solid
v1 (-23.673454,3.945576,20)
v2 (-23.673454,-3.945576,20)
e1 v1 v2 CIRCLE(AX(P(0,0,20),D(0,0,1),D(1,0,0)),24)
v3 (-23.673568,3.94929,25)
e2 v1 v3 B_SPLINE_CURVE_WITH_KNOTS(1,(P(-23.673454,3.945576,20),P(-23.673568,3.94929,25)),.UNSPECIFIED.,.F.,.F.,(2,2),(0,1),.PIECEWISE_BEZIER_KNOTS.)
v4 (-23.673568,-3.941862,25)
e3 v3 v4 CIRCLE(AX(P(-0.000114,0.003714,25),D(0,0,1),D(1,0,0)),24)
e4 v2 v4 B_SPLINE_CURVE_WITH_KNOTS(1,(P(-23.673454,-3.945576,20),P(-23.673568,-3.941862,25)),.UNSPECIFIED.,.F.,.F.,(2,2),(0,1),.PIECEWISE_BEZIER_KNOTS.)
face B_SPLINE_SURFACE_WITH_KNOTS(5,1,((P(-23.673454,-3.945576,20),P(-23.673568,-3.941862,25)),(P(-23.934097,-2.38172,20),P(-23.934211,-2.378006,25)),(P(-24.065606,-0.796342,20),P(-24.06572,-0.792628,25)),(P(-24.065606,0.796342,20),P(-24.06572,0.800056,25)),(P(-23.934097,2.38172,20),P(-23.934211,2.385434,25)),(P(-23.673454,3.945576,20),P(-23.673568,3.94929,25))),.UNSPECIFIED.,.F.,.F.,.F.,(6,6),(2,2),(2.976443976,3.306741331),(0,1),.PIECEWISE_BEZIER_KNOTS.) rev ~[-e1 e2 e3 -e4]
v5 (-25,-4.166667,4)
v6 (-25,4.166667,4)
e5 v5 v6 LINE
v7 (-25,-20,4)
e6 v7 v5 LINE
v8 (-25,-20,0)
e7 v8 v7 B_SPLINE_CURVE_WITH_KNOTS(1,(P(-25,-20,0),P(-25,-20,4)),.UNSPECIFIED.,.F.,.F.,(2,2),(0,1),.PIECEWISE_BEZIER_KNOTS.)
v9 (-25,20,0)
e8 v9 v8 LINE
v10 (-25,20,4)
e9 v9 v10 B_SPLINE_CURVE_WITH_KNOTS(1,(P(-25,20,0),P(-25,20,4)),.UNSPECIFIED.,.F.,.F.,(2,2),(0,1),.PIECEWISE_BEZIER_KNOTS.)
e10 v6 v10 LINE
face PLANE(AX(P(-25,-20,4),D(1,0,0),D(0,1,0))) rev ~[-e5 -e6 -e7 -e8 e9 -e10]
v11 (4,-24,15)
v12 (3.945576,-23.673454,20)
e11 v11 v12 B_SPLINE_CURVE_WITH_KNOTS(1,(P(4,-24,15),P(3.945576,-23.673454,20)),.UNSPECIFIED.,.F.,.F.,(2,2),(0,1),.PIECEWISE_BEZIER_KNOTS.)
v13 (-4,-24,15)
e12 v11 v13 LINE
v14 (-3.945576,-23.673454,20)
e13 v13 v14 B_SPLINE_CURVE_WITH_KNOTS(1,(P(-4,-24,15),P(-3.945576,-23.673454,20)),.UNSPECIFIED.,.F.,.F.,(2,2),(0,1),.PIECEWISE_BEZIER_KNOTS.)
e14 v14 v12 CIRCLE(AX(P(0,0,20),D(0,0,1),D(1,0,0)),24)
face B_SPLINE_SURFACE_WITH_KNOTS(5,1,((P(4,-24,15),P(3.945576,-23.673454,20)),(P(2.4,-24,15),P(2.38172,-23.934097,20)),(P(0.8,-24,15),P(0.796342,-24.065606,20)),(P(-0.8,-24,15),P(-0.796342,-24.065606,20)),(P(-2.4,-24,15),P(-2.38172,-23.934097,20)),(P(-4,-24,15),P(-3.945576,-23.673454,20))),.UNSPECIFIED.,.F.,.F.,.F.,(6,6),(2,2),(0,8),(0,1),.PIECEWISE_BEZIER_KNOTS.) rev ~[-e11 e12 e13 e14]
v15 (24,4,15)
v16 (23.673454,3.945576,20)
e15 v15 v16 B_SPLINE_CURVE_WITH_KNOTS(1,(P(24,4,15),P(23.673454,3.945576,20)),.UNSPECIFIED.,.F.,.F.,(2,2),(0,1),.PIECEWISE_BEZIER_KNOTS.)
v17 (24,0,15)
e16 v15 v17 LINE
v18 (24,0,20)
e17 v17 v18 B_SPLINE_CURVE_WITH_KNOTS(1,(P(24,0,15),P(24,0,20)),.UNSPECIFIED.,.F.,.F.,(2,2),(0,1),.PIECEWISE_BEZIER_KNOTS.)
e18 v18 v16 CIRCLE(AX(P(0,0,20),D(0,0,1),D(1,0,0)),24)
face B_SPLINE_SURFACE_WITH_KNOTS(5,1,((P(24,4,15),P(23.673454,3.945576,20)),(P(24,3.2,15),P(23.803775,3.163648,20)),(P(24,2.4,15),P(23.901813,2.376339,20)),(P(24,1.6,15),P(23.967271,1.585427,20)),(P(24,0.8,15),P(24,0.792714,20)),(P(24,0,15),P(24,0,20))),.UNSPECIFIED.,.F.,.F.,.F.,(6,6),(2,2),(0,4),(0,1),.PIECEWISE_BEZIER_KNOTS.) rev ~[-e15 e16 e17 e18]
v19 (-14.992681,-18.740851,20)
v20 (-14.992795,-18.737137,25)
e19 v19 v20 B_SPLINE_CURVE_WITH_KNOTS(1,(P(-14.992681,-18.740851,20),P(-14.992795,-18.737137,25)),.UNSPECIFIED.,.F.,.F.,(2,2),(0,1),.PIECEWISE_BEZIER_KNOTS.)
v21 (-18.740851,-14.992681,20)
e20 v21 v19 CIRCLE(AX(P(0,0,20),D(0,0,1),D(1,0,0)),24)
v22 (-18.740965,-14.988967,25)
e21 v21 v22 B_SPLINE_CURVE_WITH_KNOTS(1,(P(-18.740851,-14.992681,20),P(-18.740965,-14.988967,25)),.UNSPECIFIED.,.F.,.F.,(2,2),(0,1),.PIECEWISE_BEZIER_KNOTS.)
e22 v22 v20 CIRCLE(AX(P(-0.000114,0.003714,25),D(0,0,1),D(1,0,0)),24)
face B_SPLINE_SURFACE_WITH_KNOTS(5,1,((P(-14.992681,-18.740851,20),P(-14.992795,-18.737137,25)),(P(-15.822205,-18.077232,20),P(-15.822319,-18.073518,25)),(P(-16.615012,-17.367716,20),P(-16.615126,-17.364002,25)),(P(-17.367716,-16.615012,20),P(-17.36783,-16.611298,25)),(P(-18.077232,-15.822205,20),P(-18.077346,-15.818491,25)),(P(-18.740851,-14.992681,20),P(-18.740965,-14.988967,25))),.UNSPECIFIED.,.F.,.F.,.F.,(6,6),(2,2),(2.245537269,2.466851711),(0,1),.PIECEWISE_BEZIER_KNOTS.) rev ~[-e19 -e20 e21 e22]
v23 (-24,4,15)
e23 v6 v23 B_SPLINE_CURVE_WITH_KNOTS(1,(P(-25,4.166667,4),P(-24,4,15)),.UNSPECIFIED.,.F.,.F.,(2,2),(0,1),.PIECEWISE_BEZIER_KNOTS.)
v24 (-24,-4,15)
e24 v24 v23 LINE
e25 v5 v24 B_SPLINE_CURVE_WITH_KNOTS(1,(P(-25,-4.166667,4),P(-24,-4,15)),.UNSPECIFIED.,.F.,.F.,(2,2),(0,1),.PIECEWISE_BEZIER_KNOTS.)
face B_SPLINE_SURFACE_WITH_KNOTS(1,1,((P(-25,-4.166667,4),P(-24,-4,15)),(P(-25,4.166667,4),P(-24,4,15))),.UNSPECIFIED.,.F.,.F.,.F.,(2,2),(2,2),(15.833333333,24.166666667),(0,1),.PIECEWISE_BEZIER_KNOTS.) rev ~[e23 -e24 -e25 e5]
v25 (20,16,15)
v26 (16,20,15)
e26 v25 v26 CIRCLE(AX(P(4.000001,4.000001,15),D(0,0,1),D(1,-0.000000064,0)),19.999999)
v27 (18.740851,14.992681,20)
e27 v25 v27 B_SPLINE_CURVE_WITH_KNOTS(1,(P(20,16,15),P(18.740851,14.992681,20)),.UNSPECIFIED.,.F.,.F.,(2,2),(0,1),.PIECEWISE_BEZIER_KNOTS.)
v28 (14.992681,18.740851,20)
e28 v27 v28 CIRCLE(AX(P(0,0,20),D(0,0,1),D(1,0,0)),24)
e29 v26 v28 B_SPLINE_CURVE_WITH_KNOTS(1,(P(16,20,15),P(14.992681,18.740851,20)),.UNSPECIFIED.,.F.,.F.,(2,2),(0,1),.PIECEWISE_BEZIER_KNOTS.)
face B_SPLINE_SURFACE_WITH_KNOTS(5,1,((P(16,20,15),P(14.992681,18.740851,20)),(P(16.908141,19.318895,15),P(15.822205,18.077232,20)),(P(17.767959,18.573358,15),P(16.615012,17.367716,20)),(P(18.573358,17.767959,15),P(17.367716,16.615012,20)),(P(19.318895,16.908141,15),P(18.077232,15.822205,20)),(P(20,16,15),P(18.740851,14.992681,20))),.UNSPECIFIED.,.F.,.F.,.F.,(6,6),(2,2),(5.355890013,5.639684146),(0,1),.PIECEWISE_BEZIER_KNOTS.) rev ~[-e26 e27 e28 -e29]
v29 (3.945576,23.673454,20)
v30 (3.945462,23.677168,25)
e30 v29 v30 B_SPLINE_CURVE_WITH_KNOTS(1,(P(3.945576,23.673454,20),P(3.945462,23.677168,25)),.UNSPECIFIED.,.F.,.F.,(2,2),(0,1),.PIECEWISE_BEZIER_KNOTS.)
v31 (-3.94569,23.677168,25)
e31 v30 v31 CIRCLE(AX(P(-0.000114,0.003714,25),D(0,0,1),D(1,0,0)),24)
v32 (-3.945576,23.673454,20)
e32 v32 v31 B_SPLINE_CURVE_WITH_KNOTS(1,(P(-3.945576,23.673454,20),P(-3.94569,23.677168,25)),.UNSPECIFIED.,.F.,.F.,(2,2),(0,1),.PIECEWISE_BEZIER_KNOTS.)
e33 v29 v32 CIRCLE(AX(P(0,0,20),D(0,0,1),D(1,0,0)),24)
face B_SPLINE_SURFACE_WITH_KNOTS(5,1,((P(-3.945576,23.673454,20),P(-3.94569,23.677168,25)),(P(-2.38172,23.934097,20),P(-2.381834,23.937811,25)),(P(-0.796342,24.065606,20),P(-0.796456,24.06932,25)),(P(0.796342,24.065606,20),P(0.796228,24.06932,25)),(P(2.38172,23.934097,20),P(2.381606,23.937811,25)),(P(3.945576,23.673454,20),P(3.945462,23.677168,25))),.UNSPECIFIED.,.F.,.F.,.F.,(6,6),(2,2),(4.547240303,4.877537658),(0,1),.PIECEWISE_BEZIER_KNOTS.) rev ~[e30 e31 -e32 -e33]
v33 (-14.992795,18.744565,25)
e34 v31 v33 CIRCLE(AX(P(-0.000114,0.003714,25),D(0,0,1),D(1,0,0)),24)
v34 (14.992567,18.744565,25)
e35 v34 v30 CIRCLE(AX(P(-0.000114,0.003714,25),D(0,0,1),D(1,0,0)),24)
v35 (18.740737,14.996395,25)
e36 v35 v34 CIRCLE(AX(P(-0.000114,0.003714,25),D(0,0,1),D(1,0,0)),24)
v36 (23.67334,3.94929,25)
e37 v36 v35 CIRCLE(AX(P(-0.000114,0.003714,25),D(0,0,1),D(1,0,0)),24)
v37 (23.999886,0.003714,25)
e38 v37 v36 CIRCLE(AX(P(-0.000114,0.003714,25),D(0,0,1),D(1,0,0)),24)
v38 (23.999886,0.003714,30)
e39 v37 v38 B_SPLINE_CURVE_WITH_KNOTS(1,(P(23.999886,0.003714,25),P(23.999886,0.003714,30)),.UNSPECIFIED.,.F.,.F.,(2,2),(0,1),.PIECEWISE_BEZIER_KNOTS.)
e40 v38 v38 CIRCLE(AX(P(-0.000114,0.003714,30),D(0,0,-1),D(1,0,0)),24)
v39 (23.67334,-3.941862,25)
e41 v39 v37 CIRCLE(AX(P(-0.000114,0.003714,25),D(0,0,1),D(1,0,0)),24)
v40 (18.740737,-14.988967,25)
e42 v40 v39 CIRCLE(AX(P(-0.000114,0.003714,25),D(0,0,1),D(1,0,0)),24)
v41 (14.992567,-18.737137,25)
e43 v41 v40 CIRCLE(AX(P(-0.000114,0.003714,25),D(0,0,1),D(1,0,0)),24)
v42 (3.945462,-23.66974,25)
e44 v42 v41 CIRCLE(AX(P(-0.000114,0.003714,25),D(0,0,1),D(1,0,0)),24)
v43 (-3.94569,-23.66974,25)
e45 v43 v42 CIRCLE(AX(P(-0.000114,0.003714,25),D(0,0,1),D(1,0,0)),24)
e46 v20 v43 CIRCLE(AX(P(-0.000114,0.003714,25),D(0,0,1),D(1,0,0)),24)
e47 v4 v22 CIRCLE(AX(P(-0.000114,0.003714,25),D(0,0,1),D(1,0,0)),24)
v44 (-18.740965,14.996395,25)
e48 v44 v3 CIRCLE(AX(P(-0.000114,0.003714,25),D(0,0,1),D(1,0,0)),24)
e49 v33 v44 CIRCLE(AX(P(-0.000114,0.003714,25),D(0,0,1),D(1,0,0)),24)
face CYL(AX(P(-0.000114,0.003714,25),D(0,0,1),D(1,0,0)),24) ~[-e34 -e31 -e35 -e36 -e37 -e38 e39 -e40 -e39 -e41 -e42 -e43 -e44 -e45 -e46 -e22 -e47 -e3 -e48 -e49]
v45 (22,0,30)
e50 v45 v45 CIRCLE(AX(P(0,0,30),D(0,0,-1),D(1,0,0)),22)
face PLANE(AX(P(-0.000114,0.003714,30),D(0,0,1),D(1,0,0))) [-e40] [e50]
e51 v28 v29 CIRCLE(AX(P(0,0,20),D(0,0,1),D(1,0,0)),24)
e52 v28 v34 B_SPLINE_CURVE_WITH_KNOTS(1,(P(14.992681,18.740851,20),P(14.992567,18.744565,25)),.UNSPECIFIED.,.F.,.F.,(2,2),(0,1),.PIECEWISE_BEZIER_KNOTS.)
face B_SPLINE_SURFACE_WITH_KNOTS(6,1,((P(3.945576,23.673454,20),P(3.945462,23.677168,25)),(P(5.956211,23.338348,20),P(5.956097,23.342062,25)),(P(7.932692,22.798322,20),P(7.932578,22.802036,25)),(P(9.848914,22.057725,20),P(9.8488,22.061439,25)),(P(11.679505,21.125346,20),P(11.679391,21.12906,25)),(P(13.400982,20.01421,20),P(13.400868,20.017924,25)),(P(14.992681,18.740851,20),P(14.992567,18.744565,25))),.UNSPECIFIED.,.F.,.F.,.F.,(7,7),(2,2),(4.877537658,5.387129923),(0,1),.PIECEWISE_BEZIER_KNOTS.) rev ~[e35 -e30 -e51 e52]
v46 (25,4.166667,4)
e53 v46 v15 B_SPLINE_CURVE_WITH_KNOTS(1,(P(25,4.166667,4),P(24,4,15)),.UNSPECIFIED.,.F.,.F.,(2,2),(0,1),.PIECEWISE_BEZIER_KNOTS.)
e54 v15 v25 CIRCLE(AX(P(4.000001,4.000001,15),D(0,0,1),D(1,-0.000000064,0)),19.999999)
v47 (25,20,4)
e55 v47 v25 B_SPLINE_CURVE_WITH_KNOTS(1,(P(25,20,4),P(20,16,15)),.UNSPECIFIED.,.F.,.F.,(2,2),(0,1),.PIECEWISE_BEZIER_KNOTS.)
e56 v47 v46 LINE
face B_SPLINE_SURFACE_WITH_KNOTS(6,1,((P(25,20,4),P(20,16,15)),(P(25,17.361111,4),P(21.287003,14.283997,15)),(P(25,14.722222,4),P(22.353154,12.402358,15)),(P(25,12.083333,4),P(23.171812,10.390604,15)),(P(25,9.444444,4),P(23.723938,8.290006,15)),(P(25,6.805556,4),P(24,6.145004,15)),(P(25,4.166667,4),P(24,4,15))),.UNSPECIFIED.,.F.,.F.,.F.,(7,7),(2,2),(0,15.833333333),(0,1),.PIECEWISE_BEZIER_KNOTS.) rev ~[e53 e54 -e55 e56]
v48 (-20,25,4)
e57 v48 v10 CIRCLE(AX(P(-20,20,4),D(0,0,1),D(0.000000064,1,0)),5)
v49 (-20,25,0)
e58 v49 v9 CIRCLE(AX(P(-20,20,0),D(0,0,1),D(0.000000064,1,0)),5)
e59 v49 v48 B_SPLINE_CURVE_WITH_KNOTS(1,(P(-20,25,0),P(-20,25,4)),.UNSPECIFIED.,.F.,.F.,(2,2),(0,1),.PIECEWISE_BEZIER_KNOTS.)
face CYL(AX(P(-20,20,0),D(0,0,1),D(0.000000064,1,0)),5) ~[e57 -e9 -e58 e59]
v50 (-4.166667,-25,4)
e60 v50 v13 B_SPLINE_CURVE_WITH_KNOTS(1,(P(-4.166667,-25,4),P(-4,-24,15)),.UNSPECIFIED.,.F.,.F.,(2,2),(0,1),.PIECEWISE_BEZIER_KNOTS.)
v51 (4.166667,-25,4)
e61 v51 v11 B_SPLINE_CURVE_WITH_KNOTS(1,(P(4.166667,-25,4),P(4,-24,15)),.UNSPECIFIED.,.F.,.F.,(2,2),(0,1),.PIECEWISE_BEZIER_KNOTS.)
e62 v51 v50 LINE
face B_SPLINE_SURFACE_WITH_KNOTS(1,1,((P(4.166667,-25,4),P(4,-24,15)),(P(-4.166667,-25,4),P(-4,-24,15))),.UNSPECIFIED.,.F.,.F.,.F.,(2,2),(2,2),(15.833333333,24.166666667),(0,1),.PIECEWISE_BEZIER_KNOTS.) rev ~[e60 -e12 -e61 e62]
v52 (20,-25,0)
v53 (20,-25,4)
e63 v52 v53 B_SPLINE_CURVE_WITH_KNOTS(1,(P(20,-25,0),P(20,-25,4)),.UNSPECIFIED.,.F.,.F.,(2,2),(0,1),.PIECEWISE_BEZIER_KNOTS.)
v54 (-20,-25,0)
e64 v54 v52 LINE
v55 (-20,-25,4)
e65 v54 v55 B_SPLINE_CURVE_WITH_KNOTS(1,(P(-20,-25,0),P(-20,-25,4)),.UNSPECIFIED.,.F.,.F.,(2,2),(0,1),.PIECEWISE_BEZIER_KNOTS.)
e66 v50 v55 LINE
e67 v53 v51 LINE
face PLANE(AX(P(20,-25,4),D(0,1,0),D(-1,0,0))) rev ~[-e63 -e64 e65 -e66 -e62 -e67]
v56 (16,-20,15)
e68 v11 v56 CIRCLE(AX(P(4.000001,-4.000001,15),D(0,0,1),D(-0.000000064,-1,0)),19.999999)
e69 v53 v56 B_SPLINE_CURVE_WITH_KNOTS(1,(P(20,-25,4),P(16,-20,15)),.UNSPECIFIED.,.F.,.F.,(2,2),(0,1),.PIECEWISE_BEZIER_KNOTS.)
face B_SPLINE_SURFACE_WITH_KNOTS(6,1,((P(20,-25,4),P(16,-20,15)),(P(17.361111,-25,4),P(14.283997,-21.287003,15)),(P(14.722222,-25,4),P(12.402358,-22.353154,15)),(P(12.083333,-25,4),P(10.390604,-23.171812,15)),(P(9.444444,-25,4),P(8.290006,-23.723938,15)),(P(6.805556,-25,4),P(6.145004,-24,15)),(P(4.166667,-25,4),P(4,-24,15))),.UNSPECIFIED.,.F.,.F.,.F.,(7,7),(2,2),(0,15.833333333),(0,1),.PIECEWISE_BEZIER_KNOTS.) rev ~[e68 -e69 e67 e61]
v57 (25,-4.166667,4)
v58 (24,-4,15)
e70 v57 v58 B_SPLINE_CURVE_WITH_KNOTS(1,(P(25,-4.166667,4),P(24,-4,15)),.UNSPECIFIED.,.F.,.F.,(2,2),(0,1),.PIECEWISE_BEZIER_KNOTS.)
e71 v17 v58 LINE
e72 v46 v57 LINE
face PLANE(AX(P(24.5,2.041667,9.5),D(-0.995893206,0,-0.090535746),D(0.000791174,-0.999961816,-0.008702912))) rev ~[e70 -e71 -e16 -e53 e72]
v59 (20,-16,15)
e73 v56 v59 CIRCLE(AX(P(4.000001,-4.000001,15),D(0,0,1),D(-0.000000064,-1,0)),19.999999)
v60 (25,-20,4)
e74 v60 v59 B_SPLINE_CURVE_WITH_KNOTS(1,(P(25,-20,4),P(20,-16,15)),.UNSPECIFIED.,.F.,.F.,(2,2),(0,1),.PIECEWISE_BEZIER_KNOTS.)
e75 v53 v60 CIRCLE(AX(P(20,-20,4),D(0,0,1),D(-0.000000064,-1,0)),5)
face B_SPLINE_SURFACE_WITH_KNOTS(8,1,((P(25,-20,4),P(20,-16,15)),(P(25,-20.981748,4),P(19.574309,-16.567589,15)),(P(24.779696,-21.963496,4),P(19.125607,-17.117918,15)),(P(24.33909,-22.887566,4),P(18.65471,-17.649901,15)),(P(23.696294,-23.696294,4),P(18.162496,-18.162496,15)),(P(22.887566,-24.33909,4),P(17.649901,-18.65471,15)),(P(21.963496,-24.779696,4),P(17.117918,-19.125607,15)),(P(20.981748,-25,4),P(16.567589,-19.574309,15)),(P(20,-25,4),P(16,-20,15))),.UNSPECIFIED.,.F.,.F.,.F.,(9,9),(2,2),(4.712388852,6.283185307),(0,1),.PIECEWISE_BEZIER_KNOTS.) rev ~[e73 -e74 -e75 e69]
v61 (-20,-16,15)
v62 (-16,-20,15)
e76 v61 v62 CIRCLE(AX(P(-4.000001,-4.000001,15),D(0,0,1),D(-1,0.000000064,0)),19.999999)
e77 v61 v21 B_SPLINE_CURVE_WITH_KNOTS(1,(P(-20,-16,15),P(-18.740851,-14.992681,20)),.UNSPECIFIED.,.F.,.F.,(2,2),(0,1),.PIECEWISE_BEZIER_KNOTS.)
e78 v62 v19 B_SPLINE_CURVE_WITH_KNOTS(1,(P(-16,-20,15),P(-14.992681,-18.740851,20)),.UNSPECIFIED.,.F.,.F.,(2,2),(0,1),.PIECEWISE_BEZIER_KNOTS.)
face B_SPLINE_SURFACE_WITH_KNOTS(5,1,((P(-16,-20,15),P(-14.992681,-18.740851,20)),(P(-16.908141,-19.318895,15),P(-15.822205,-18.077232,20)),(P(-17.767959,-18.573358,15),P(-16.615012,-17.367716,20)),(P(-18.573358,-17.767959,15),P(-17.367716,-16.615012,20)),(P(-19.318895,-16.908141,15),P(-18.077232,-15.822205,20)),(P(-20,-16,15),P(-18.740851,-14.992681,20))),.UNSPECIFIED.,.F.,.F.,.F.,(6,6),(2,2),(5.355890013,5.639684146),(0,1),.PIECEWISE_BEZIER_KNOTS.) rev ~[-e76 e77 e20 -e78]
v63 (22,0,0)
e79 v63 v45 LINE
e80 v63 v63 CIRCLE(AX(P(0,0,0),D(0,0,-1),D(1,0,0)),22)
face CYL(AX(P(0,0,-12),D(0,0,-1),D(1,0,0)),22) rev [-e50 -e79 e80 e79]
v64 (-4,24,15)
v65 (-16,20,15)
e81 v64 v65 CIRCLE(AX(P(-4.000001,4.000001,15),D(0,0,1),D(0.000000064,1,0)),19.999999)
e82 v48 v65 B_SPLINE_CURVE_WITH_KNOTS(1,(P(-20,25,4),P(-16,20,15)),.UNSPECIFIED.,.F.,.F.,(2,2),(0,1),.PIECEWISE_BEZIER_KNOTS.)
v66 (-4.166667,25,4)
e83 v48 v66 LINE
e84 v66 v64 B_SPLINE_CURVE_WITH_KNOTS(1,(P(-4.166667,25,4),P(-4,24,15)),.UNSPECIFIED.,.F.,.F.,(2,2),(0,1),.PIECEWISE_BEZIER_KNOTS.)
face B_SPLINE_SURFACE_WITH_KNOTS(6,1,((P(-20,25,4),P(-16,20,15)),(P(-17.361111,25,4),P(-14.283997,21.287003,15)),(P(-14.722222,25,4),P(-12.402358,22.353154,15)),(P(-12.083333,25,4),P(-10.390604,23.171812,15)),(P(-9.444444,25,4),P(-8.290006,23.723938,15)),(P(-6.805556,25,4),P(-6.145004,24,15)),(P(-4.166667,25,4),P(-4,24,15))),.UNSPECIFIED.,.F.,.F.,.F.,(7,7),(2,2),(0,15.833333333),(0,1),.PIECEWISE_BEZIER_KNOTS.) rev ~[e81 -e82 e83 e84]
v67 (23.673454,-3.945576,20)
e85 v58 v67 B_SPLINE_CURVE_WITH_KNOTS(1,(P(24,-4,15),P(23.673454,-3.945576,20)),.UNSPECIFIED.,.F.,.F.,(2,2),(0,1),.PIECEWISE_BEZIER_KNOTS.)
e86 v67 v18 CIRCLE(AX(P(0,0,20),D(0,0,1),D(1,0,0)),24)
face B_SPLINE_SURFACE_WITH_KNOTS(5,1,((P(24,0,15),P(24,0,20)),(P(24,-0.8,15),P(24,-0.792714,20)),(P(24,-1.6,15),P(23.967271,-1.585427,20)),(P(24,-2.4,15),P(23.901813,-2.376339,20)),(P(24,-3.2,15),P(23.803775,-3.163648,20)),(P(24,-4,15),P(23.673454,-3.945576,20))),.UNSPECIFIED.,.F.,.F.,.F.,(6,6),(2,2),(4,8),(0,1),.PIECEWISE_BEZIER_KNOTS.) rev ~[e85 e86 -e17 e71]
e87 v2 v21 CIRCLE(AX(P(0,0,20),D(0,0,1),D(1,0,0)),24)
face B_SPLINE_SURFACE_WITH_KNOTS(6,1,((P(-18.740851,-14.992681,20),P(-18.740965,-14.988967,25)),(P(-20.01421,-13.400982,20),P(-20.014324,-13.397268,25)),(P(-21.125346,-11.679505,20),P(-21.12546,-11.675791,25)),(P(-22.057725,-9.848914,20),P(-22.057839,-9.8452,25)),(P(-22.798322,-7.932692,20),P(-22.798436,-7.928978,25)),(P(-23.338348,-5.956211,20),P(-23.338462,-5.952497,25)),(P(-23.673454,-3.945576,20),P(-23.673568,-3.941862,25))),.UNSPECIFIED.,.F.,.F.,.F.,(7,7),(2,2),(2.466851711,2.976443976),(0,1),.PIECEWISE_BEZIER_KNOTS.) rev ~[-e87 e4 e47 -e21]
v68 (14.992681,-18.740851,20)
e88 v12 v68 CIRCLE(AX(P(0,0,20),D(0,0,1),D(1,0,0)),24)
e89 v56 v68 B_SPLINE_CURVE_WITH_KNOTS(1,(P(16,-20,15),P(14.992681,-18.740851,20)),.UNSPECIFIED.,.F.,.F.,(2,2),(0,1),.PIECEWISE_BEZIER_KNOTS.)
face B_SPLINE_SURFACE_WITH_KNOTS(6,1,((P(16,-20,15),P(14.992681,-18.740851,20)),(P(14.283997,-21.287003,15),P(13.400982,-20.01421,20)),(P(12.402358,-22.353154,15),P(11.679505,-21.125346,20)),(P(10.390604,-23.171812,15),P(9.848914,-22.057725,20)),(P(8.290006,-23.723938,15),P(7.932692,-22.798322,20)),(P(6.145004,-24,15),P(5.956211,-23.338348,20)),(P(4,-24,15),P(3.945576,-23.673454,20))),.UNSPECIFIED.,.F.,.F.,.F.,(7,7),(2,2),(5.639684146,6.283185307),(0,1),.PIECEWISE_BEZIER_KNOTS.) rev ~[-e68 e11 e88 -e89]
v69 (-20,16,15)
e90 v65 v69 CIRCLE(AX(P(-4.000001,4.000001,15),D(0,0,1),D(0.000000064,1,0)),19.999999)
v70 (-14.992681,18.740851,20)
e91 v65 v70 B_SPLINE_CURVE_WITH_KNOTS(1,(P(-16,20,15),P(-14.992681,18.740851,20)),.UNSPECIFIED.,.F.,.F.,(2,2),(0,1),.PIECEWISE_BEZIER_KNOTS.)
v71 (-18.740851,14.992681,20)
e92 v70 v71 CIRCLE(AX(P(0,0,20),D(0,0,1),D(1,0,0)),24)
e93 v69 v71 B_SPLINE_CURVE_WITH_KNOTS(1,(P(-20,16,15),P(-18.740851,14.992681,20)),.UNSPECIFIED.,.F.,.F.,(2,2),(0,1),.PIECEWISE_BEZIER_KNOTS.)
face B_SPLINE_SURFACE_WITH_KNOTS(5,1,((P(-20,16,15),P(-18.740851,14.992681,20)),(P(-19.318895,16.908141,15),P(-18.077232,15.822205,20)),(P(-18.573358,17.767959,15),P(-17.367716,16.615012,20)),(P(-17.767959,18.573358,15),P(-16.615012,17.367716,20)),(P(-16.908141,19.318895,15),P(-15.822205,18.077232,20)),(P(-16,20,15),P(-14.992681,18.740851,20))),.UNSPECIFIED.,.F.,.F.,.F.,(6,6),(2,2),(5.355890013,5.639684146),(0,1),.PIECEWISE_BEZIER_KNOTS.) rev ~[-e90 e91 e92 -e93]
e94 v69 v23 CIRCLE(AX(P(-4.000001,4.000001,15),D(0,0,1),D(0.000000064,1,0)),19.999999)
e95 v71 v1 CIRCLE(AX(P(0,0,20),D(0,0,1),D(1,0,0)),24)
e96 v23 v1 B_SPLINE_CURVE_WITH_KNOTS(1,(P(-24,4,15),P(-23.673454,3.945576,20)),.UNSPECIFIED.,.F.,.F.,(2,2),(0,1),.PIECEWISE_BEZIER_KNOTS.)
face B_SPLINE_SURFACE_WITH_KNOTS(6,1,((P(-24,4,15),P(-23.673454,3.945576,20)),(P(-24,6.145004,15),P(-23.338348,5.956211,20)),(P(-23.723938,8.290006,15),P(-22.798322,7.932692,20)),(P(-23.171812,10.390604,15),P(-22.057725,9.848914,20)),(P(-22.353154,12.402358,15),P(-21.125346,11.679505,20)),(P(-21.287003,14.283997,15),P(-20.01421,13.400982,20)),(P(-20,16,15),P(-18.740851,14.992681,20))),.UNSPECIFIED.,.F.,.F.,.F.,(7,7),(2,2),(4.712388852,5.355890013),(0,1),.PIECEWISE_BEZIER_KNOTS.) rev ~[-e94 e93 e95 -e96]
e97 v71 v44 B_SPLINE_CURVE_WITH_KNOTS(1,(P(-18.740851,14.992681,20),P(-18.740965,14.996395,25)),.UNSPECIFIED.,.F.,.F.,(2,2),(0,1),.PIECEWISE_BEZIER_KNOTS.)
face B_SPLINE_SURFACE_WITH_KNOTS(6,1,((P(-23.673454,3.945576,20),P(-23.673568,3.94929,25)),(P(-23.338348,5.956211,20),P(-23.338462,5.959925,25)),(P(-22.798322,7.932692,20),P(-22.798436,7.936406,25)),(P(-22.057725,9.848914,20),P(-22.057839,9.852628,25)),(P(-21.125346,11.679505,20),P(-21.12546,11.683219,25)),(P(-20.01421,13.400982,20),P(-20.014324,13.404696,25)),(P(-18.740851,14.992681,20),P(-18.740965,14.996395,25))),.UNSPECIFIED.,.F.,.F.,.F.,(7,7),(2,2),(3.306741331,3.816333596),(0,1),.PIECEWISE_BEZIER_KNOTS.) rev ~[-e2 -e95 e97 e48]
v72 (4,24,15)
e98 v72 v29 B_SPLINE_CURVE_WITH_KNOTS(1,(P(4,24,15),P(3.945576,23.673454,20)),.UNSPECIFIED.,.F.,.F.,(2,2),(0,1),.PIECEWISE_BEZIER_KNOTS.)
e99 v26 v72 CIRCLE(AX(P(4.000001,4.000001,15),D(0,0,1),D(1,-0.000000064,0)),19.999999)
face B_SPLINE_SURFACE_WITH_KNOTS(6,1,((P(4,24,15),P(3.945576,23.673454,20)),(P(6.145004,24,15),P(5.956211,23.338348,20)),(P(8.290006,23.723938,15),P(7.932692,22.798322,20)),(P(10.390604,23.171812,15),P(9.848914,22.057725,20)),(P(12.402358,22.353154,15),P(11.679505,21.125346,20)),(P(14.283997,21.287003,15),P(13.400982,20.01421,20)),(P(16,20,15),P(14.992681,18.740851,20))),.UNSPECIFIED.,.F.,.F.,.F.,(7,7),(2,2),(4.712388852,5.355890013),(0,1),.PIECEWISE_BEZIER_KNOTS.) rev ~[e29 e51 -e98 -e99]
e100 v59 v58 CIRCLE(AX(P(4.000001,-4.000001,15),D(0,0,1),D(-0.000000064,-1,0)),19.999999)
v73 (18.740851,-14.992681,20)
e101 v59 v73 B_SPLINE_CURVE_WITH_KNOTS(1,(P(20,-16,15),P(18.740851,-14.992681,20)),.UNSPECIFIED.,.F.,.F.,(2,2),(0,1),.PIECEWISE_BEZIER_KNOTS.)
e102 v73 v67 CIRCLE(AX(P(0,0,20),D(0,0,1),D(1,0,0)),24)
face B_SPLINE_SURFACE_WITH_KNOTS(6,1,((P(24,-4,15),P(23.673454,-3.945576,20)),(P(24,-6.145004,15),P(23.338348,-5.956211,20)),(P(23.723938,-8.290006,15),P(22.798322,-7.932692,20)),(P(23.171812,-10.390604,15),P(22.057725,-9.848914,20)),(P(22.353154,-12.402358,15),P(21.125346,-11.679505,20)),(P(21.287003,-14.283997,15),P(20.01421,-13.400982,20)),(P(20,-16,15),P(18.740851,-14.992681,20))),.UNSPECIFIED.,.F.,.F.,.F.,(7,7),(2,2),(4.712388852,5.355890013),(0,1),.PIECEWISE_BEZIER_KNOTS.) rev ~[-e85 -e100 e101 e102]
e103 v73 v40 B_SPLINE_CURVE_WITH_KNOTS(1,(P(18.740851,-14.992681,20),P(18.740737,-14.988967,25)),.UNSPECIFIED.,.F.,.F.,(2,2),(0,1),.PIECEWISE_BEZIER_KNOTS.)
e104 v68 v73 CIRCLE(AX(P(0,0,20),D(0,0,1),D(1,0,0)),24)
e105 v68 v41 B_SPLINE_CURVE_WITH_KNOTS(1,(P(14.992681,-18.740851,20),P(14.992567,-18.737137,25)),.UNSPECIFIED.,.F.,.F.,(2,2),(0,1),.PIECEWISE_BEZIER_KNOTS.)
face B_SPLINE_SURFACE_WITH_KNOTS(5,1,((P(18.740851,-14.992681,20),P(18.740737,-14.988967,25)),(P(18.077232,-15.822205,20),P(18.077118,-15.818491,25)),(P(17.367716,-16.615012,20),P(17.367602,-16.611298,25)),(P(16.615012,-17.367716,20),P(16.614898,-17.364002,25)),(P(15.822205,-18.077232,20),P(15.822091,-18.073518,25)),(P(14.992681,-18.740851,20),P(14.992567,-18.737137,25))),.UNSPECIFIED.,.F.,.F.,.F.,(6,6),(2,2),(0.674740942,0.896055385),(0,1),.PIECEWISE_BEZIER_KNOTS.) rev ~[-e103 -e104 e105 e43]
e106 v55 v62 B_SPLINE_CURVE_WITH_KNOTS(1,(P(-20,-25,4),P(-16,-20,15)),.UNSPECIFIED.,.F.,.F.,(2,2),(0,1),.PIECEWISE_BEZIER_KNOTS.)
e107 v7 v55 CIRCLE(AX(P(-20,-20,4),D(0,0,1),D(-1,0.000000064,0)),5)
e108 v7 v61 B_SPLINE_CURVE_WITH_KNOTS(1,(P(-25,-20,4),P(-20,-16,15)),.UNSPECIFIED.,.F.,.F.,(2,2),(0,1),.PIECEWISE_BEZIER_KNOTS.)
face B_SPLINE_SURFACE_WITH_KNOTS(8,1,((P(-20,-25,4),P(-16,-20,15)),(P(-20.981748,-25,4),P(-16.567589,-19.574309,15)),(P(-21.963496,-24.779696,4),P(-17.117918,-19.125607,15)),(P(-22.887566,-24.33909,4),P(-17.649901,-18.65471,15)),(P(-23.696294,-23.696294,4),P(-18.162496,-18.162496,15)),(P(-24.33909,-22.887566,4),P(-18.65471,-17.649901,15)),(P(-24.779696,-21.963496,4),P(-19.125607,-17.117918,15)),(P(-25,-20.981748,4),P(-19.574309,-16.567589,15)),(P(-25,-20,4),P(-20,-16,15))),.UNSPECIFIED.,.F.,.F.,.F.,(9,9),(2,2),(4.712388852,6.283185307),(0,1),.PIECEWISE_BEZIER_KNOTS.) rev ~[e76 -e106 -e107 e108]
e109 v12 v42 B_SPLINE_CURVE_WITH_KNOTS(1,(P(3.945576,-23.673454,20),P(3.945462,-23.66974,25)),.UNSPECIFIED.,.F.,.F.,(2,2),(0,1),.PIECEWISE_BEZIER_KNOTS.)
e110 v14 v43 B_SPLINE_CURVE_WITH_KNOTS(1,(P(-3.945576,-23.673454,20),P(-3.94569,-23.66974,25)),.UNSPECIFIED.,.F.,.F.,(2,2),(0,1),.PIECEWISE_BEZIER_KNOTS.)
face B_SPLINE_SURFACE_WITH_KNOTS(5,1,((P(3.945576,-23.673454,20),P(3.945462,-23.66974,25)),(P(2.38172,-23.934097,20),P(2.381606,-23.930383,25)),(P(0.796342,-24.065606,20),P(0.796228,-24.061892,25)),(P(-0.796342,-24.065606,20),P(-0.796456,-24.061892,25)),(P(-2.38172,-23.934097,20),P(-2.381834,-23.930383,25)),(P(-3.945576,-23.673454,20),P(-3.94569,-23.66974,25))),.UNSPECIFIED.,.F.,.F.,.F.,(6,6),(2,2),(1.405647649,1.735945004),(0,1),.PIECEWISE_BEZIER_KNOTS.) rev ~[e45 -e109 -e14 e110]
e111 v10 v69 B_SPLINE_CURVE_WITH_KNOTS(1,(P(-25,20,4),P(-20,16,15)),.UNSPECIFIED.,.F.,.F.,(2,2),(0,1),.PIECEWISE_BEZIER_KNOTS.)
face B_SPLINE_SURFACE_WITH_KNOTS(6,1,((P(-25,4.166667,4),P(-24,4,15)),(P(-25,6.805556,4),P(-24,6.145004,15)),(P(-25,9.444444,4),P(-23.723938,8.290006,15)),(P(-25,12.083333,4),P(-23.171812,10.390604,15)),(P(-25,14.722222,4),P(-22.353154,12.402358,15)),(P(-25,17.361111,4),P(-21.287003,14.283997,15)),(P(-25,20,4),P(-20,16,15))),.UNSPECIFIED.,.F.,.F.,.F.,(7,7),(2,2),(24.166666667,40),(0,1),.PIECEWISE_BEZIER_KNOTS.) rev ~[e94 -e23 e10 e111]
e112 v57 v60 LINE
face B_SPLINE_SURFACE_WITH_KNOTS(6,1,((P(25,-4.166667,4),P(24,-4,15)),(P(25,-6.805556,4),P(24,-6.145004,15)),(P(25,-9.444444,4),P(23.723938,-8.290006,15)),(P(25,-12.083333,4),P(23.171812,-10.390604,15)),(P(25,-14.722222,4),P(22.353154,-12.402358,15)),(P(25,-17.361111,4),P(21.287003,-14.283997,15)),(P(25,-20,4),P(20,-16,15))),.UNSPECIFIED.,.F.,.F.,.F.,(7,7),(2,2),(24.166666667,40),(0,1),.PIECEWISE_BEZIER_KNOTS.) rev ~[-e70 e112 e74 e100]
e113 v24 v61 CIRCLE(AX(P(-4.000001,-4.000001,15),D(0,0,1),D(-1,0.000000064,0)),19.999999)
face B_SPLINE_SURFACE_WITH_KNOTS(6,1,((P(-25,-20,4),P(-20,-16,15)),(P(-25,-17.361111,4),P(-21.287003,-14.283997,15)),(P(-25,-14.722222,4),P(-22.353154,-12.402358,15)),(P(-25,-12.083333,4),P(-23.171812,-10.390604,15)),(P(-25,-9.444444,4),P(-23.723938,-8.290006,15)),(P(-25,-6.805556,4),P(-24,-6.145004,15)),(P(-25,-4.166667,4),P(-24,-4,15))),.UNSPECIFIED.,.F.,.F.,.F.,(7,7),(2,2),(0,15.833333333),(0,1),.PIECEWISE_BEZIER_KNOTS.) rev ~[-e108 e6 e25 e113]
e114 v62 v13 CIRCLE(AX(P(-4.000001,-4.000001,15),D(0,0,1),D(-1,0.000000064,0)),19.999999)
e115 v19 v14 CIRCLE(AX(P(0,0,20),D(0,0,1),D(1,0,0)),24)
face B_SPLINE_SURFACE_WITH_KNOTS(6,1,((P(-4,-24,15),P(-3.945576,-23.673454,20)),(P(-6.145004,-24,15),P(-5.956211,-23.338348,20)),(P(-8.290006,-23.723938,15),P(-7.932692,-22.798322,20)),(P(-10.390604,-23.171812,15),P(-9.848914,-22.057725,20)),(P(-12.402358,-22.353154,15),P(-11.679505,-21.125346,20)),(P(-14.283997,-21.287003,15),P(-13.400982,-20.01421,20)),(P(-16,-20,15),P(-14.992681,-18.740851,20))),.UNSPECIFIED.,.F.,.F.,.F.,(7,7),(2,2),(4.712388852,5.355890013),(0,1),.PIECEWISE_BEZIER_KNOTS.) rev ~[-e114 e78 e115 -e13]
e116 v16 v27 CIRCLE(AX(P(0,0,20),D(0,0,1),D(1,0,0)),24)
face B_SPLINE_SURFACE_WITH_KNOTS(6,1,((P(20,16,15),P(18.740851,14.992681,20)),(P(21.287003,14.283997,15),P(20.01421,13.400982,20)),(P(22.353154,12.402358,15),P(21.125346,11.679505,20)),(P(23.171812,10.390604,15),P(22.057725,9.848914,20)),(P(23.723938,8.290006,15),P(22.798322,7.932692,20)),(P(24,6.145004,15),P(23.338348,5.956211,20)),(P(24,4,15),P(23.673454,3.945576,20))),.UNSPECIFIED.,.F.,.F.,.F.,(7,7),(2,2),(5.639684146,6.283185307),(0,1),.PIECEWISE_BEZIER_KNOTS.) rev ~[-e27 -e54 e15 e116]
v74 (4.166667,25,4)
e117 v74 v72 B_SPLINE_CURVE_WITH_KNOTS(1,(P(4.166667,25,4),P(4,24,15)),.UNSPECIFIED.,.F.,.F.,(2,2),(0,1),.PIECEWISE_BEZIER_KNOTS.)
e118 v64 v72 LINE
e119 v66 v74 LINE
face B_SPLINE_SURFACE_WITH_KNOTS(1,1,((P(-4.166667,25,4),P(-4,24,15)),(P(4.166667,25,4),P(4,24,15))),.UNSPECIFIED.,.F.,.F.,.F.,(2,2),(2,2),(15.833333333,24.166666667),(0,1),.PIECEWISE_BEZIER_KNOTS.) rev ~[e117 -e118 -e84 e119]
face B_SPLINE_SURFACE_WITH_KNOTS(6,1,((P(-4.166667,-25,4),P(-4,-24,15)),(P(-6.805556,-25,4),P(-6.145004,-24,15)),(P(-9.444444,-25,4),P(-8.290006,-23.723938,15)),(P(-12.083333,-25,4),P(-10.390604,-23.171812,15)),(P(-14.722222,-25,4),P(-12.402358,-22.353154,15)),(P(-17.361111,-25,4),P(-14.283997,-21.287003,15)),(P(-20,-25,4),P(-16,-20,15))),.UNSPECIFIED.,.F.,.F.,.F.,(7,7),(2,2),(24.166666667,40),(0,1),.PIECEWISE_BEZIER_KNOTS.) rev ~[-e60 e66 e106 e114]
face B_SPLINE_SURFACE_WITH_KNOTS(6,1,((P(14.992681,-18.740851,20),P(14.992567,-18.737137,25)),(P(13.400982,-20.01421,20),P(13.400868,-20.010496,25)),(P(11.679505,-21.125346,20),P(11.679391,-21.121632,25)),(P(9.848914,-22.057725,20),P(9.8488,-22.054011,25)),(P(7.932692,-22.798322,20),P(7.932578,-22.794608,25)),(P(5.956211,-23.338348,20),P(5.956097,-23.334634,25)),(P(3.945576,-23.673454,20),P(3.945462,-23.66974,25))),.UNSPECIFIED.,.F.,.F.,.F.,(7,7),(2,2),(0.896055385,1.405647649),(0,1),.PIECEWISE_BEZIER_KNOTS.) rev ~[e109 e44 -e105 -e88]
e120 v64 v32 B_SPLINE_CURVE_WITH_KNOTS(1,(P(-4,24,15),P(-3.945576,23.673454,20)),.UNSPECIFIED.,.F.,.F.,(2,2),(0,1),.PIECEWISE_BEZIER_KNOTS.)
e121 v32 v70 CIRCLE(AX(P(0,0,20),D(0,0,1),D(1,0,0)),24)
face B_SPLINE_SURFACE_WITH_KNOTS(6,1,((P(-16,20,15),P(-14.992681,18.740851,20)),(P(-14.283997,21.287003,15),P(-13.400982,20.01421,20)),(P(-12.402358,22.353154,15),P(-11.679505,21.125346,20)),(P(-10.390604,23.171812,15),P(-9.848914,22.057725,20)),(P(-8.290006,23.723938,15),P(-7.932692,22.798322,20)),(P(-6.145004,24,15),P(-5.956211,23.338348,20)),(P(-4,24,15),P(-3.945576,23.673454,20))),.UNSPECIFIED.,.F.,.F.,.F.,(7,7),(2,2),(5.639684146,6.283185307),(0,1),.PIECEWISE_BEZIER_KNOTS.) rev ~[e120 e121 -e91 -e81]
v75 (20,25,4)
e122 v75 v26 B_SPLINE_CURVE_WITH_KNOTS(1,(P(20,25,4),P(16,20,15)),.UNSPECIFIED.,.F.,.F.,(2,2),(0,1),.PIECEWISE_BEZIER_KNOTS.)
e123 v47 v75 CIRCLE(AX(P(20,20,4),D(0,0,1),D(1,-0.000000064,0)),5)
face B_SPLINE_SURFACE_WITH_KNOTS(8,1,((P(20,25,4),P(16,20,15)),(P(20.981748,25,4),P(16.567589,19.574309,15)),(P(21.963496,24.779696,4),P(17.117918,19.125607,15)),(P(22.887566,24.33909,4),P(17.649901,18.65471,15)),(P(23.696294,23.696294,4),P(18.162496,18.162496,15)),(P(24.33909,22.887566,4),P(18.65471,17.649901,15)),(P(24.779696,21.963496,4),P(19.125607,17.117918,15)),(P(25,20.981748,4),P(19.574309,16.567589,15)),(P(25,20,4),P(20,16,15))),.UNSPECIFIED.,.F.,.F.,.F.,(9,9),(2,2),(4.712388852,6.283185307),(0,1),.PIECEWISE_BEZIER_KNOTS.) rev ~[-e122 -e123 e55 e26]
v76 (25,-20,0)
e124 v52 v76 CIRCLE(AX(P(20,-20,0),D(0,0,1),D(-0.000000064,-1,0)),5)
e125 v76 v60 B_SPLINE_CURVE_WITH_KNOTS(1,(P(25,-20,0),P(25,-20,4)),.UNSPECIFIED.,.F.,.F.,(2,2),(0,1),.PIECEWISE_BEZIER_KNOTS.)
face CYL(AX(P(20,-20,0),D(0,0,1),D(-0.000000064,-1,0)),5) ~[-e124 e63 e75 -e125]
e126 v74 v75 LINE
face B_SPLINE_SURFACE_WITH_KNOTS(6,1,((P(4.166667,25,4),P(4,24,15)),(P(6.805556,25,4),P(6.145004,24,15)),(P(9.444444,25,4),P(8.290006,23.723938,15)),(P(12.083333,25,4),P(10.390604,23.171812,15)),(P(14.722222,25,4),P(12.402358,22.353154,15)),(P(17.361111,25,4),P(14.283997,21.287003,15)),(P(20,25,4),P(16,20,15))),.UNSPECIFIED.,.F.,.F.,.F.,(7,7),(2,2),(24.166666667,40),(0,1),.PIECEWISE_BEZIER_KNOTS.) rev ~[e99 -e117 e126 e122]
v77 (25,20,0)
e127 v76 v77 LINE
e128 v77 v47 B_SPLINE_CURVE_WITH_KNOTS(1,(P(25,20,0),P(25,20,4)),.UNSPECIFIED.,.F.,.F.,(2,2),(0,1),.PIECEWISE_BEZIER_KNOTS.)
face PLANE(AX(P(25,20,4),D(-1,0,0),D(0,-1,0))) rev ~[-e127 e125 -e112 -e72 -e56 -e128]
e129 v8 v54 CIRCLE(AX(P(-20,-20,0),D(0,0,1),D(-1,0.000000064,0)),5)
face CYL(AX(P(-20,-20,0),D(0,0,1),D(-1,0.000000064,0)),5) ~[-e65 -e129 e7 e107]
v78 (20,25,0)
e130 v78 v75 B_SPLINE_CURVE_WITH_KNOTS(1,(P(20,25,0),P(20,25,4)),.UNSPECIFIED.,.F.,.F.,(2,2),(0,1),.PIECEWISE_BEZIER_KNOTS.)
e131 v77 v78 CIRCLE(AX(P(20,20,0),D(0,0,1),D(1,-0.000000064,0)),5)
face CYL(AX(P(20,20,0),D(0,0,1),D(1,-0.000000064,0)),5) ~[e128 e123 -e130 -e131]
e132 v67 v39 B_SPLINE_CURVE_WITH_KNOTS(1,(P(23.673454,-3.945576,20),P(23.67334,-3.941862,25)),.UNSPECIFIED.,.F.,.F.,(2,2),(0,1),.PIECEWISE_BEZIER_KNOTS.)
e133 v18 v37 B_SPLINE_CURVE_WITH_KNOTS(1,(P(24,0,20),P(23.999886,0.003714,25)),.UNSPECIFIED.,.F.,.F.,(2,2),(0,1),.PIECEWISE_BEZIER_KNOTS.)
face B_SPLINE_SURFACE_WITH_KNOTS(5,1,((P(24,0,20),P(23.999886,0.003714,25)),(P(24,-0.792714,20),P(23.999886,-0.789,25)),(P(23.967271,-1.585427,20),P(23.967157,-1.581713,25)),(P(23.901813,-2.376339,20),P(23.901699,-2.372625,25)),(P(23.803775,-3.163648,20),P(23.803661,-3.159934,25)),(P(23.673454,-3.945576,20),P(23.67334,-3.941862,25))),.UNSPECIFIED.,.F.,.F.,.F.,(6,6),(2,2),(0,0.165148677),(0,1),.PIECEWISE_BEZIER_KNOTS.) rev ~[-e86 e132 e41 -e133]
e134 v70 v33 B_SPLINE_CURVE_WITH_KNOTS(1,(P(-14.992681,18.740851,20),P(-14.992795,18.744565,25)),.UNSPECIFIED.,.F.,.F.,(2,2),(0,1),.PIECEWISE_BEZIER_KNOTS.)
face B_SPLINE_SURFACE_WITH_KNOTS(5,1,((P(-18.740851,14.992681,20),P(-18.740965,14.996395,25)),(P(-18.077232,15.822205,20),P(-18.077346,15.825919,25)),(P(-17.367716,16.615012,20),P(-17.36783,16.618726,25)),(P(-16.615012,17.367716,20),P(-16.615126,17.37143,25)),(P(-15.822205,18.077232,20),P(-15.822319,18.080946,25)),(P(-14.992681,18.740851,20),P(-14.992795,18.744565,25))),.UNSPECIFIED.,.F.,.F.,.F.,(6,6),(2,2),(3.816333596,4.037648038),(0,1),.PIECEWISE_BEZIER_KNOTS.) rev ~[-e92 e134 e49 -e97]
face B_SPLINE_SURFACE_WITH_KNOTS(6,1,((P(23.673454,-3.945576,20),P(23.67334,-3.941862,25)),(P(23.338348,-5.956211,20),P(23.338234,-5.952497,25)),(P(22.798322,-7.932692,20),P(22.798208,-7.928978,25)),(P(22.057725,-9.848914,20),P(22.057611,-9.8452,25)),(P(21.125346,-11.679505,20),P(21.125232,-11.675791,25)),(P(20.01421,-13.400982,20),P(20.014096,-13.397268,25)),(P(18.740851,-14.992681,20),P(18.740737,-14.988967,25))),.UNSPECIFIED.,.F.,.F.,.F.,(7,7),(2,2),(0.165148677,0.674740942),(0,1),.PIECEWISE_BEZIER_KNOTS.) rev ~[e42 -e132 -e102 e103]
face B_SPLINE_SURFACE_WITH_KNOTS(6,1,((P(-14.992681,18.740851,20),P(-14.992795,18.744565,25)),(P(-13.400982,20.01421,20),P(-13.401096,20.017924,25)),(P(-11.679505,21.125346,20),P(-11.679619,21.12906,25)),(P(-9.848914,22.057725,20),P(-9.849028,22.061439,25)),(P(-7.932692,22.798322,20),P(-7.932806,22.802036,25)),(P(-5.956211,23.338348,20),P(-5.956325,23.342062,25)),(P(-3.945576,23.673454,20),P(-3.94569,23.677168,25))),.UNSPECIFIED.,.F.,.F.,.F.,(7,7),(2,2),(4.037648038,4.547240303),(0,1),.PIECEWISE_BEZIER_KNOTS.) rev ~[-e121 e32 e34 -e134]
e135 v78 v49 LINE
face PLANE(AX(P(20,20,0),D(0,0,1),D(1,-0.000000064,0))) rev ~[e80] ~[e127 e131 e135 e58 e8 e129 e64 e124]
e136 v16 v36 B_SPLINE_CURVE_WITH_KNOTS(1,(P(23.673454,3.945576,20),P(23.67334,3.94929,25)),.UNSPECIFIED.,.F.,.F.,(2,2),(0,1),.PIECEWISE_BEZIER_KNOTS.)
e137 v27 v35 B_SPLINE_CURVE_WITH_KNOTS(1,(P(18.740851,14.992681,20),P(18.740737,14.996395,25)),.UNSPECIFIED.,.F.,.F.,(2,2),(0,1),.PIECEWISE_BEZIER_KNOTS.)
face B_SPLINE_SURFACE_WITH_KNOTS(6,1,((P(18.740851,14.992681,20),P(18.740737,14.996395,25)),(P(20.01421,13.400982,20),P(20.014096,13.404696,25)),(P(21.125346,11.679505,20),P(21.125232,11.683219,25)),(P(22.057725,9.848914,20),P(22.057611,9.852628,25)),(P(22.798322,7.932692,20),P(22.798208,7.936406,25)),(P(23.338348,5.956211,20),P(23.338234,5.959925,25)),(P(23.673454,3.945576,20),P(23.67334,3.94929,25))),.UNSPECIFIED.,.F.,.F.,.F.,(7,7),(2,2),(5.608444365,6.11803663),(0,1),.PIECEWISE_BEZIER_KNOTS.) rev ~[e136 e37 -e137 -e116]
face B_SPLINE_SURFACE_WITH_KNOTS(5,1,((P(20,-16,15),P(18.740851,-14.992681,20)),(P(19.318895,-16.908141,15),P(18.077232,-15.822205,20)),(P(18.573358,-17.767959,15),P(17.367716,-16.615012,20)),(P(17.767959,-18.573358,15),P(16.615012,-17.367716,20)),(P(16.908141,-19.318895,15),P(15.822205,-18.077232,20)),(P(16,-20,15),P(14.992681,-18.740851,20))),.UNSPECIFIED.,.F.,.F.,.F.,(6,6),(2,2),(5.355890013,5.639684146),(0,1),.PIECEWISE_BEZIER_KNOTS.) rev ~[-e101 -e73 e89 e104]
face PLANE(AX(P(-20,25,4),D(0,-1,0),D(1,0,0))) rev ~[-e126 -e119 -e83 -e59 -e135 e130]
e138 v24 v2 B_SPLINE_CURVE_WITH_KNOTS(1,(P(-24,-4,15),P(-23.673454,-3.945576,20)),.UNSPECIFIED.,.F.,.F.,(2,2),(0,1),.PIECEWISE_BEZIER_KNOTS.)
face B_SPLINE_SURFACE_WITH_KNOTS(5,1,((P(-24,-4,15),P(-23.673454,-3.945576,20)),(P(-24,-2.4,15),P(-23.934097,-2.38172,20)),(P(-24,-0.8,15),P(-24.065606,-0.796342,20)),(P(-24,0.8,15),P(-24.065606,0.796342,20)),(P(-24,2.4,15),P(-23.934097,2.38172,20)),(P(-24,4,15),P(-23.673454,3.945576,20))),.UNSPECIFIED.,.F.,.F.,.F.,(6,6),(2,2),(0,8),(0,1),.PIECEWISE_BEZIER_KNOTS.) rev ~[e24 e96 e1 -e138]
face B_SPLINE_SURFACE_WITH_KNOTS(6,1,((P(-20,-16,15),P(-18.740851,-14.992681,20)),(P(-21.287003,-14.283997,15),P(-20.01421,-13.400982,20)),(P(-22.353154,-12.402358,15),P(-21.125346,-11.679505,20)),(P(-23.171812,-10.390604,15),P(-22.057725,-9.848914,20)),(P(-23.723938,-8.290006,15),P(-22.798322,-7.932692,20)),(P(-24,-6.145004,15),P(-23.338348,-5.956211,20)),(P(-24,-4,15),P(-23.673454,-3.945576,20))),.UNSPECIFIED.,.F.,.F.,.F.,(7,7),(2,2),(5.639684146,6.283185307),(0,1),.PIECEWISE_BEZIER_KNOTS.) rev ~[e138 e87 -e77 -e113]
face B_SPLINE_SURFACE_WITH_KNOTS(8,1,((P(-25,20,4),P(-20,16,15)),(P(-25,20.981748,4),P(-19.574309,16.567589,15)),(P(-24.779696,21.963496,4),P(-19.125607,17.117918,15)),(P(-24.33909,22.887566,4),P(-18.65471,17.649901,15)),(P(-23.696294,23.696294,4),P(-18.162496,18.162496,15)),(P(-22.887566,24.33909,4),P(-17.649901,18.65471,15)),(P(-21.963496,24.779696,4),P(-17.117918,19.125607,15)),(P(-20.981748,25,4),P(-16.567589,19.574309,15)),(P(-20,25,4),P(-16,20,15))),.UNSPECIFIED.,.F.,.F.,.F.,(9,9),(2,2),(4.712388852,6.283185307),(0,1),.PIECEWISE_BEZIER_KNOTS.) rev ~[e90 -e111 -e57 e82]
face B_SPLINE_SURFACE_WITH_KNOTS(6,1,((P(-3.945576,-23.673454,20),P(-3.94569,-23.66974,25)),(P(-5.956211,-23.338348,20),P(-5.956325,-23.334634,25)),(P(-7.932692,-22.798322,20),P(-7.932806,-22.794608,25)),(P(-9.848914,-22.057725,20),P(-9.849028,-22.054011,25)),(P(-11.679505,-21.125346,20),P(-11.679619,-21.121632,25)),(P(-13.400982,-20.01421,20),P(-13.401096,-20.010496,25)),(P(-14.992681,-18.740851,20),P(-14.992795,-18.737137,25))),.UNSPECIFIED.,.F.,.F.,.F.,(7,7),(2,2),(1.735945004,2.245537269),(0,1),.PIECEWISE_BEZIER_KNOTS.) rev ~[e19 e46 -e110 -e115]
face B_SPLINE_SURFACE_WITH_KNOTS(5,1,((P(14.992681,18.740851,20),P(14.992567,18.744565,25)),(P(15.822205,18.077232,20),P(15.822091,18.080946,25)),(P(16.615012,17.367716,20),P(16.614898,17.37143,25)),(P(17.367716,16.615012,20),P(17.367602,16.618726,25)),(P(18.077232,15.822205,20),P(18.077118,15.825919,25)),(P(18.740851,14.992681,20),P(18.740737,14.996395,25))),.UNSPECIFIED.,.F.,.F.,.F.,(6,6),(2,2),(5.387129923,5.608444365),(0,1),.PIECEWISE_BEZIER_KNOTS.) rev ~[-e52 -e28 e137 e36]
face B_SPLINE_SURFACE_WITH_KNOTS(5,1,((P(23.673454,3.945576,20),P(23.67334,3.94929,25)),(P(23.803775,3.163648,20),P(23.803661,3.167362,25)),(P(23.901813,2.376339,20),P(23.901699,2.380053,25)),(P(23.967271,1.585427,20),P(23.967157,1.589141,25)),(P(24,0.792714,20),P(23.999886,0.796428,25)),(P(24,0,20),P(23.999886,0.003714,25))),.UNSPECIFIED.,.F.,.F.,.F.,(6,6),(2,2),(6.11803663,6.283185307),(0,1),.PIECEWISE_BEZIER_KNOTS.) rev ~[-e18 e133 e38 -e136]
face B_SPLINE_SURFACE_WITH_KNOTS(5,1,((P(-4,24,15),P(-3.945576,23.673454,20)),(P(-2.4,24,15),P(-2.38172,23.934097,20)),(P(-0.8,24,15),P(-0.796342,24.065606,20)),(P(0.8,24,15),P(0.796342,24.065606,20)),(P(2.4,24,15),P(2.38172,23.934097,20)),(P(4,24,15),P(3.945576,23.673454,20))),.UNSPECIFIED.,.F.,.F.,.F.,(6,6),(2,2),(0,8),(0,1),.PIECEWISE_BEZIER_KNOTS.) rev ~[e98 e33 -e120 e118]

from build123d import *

# Parameters (mm, degrees)
CYLINDER_R     = 22
CYLINDER_DEPTH = 90
SKETCH002_R    = 24
SKETCH003_R    = 24
SKETCH004_R    = 24


with BuildPart() as cylinder:
    # Cylinder → Cylinder (new body)
    with BuildSketch(Plane.XY.offset(-12)):
        Circle(CYLINDER_R)
    extrude(amount=CYLINDER_DEPTH)


with BuildPart() as soporte:
    # Sketch → Loft section 0
    with BuildSketch(Plane.XY):
        with BuildLine():
            Line((-20, 25), (20, 25))
            ThreePointArc((25, 20), (23.535534, 23.535534), (20, 25))
            Line((25, 20), (25, -20))
            ThreePointArc((20, -25), (23.535534, -23.535534), (25, -20))
            Line((20, -25), (-20, -25))
            ThreePointArc((-25, -20), (-23.535534, -23.535534), (-20, -25))
            Line((-25, -20), (-25, 20))
            ThreePointArc((-20, 25), (-23.535534, 23.535534), (-25, 20))
        make_face()
    # Sketch005 → Loft section 1
    with BuildSketch(Plane.XY.offset(4)):
        with BuildLine():
            Line((-20, 25), (20, 25))
            ThreePointArc((25, 20), (23.535534, 23.535534), (20, 25))
            Line((25, 20), (25, -20))
            ThreePointArc((20, -25), (23.535534, -23.535534), (25, -20))
            Line((20, -25), (-20, -25))
            ThreePointArc((-25, -20), (-23.535534, -23.535534), (-20, -25))
            Line((-25, -20), (-25, 20))
            ThreePointArc((-20, 25), (-23.535534, 23.535534), (-25, 20))
        make_face()
    # Sketch006 → Loft section 2
    with BuildSketch(Plane.XY.offset(15)):
        with BuildLine():
            Line((-4, 24), (4, 24))
            ThreePointArc((24, 4), (18.142136, 18.142136), (4, 24))
            Line((24, 4), (24, -4))
            ThreePointArc((4, -24), (18.142136, -18.142136), (24, -4))
            Line((4, -24), (-4, -24))
            ThreePointArc((-24, -4), (-18.142136, -18.142136), (-4, -24))
            Line((-24, -4), (-24, 4))
            ThreePointArc((-4, 24), (-18.142136, 18.142136), (-24, 4))
        make_face()
    # Sketch002 → Loft section 3
    with BuildSketch(Plane.XY.offset(20)):
        Circle(SKETCH002_R)
    # Sketch003 → Loft section 4
    with BuildSketch(Plane.XY.offset(25)):
        with Locations((-0.000114, 0.003714)):
            Circle(SKETCH003_R)
    # Sketch004 → Loft section 5
    with BuildSketch(Plane.XY.offset(30)):
        with Locations((-0.000114, 0.003714)):
            Circle(SKETCH004_R)
    loft(ruled=True)

    # Cut: cut Cylinder
    add(cylinder.part, mode=Mode.SUBTRACT)


solid = soporte.part
